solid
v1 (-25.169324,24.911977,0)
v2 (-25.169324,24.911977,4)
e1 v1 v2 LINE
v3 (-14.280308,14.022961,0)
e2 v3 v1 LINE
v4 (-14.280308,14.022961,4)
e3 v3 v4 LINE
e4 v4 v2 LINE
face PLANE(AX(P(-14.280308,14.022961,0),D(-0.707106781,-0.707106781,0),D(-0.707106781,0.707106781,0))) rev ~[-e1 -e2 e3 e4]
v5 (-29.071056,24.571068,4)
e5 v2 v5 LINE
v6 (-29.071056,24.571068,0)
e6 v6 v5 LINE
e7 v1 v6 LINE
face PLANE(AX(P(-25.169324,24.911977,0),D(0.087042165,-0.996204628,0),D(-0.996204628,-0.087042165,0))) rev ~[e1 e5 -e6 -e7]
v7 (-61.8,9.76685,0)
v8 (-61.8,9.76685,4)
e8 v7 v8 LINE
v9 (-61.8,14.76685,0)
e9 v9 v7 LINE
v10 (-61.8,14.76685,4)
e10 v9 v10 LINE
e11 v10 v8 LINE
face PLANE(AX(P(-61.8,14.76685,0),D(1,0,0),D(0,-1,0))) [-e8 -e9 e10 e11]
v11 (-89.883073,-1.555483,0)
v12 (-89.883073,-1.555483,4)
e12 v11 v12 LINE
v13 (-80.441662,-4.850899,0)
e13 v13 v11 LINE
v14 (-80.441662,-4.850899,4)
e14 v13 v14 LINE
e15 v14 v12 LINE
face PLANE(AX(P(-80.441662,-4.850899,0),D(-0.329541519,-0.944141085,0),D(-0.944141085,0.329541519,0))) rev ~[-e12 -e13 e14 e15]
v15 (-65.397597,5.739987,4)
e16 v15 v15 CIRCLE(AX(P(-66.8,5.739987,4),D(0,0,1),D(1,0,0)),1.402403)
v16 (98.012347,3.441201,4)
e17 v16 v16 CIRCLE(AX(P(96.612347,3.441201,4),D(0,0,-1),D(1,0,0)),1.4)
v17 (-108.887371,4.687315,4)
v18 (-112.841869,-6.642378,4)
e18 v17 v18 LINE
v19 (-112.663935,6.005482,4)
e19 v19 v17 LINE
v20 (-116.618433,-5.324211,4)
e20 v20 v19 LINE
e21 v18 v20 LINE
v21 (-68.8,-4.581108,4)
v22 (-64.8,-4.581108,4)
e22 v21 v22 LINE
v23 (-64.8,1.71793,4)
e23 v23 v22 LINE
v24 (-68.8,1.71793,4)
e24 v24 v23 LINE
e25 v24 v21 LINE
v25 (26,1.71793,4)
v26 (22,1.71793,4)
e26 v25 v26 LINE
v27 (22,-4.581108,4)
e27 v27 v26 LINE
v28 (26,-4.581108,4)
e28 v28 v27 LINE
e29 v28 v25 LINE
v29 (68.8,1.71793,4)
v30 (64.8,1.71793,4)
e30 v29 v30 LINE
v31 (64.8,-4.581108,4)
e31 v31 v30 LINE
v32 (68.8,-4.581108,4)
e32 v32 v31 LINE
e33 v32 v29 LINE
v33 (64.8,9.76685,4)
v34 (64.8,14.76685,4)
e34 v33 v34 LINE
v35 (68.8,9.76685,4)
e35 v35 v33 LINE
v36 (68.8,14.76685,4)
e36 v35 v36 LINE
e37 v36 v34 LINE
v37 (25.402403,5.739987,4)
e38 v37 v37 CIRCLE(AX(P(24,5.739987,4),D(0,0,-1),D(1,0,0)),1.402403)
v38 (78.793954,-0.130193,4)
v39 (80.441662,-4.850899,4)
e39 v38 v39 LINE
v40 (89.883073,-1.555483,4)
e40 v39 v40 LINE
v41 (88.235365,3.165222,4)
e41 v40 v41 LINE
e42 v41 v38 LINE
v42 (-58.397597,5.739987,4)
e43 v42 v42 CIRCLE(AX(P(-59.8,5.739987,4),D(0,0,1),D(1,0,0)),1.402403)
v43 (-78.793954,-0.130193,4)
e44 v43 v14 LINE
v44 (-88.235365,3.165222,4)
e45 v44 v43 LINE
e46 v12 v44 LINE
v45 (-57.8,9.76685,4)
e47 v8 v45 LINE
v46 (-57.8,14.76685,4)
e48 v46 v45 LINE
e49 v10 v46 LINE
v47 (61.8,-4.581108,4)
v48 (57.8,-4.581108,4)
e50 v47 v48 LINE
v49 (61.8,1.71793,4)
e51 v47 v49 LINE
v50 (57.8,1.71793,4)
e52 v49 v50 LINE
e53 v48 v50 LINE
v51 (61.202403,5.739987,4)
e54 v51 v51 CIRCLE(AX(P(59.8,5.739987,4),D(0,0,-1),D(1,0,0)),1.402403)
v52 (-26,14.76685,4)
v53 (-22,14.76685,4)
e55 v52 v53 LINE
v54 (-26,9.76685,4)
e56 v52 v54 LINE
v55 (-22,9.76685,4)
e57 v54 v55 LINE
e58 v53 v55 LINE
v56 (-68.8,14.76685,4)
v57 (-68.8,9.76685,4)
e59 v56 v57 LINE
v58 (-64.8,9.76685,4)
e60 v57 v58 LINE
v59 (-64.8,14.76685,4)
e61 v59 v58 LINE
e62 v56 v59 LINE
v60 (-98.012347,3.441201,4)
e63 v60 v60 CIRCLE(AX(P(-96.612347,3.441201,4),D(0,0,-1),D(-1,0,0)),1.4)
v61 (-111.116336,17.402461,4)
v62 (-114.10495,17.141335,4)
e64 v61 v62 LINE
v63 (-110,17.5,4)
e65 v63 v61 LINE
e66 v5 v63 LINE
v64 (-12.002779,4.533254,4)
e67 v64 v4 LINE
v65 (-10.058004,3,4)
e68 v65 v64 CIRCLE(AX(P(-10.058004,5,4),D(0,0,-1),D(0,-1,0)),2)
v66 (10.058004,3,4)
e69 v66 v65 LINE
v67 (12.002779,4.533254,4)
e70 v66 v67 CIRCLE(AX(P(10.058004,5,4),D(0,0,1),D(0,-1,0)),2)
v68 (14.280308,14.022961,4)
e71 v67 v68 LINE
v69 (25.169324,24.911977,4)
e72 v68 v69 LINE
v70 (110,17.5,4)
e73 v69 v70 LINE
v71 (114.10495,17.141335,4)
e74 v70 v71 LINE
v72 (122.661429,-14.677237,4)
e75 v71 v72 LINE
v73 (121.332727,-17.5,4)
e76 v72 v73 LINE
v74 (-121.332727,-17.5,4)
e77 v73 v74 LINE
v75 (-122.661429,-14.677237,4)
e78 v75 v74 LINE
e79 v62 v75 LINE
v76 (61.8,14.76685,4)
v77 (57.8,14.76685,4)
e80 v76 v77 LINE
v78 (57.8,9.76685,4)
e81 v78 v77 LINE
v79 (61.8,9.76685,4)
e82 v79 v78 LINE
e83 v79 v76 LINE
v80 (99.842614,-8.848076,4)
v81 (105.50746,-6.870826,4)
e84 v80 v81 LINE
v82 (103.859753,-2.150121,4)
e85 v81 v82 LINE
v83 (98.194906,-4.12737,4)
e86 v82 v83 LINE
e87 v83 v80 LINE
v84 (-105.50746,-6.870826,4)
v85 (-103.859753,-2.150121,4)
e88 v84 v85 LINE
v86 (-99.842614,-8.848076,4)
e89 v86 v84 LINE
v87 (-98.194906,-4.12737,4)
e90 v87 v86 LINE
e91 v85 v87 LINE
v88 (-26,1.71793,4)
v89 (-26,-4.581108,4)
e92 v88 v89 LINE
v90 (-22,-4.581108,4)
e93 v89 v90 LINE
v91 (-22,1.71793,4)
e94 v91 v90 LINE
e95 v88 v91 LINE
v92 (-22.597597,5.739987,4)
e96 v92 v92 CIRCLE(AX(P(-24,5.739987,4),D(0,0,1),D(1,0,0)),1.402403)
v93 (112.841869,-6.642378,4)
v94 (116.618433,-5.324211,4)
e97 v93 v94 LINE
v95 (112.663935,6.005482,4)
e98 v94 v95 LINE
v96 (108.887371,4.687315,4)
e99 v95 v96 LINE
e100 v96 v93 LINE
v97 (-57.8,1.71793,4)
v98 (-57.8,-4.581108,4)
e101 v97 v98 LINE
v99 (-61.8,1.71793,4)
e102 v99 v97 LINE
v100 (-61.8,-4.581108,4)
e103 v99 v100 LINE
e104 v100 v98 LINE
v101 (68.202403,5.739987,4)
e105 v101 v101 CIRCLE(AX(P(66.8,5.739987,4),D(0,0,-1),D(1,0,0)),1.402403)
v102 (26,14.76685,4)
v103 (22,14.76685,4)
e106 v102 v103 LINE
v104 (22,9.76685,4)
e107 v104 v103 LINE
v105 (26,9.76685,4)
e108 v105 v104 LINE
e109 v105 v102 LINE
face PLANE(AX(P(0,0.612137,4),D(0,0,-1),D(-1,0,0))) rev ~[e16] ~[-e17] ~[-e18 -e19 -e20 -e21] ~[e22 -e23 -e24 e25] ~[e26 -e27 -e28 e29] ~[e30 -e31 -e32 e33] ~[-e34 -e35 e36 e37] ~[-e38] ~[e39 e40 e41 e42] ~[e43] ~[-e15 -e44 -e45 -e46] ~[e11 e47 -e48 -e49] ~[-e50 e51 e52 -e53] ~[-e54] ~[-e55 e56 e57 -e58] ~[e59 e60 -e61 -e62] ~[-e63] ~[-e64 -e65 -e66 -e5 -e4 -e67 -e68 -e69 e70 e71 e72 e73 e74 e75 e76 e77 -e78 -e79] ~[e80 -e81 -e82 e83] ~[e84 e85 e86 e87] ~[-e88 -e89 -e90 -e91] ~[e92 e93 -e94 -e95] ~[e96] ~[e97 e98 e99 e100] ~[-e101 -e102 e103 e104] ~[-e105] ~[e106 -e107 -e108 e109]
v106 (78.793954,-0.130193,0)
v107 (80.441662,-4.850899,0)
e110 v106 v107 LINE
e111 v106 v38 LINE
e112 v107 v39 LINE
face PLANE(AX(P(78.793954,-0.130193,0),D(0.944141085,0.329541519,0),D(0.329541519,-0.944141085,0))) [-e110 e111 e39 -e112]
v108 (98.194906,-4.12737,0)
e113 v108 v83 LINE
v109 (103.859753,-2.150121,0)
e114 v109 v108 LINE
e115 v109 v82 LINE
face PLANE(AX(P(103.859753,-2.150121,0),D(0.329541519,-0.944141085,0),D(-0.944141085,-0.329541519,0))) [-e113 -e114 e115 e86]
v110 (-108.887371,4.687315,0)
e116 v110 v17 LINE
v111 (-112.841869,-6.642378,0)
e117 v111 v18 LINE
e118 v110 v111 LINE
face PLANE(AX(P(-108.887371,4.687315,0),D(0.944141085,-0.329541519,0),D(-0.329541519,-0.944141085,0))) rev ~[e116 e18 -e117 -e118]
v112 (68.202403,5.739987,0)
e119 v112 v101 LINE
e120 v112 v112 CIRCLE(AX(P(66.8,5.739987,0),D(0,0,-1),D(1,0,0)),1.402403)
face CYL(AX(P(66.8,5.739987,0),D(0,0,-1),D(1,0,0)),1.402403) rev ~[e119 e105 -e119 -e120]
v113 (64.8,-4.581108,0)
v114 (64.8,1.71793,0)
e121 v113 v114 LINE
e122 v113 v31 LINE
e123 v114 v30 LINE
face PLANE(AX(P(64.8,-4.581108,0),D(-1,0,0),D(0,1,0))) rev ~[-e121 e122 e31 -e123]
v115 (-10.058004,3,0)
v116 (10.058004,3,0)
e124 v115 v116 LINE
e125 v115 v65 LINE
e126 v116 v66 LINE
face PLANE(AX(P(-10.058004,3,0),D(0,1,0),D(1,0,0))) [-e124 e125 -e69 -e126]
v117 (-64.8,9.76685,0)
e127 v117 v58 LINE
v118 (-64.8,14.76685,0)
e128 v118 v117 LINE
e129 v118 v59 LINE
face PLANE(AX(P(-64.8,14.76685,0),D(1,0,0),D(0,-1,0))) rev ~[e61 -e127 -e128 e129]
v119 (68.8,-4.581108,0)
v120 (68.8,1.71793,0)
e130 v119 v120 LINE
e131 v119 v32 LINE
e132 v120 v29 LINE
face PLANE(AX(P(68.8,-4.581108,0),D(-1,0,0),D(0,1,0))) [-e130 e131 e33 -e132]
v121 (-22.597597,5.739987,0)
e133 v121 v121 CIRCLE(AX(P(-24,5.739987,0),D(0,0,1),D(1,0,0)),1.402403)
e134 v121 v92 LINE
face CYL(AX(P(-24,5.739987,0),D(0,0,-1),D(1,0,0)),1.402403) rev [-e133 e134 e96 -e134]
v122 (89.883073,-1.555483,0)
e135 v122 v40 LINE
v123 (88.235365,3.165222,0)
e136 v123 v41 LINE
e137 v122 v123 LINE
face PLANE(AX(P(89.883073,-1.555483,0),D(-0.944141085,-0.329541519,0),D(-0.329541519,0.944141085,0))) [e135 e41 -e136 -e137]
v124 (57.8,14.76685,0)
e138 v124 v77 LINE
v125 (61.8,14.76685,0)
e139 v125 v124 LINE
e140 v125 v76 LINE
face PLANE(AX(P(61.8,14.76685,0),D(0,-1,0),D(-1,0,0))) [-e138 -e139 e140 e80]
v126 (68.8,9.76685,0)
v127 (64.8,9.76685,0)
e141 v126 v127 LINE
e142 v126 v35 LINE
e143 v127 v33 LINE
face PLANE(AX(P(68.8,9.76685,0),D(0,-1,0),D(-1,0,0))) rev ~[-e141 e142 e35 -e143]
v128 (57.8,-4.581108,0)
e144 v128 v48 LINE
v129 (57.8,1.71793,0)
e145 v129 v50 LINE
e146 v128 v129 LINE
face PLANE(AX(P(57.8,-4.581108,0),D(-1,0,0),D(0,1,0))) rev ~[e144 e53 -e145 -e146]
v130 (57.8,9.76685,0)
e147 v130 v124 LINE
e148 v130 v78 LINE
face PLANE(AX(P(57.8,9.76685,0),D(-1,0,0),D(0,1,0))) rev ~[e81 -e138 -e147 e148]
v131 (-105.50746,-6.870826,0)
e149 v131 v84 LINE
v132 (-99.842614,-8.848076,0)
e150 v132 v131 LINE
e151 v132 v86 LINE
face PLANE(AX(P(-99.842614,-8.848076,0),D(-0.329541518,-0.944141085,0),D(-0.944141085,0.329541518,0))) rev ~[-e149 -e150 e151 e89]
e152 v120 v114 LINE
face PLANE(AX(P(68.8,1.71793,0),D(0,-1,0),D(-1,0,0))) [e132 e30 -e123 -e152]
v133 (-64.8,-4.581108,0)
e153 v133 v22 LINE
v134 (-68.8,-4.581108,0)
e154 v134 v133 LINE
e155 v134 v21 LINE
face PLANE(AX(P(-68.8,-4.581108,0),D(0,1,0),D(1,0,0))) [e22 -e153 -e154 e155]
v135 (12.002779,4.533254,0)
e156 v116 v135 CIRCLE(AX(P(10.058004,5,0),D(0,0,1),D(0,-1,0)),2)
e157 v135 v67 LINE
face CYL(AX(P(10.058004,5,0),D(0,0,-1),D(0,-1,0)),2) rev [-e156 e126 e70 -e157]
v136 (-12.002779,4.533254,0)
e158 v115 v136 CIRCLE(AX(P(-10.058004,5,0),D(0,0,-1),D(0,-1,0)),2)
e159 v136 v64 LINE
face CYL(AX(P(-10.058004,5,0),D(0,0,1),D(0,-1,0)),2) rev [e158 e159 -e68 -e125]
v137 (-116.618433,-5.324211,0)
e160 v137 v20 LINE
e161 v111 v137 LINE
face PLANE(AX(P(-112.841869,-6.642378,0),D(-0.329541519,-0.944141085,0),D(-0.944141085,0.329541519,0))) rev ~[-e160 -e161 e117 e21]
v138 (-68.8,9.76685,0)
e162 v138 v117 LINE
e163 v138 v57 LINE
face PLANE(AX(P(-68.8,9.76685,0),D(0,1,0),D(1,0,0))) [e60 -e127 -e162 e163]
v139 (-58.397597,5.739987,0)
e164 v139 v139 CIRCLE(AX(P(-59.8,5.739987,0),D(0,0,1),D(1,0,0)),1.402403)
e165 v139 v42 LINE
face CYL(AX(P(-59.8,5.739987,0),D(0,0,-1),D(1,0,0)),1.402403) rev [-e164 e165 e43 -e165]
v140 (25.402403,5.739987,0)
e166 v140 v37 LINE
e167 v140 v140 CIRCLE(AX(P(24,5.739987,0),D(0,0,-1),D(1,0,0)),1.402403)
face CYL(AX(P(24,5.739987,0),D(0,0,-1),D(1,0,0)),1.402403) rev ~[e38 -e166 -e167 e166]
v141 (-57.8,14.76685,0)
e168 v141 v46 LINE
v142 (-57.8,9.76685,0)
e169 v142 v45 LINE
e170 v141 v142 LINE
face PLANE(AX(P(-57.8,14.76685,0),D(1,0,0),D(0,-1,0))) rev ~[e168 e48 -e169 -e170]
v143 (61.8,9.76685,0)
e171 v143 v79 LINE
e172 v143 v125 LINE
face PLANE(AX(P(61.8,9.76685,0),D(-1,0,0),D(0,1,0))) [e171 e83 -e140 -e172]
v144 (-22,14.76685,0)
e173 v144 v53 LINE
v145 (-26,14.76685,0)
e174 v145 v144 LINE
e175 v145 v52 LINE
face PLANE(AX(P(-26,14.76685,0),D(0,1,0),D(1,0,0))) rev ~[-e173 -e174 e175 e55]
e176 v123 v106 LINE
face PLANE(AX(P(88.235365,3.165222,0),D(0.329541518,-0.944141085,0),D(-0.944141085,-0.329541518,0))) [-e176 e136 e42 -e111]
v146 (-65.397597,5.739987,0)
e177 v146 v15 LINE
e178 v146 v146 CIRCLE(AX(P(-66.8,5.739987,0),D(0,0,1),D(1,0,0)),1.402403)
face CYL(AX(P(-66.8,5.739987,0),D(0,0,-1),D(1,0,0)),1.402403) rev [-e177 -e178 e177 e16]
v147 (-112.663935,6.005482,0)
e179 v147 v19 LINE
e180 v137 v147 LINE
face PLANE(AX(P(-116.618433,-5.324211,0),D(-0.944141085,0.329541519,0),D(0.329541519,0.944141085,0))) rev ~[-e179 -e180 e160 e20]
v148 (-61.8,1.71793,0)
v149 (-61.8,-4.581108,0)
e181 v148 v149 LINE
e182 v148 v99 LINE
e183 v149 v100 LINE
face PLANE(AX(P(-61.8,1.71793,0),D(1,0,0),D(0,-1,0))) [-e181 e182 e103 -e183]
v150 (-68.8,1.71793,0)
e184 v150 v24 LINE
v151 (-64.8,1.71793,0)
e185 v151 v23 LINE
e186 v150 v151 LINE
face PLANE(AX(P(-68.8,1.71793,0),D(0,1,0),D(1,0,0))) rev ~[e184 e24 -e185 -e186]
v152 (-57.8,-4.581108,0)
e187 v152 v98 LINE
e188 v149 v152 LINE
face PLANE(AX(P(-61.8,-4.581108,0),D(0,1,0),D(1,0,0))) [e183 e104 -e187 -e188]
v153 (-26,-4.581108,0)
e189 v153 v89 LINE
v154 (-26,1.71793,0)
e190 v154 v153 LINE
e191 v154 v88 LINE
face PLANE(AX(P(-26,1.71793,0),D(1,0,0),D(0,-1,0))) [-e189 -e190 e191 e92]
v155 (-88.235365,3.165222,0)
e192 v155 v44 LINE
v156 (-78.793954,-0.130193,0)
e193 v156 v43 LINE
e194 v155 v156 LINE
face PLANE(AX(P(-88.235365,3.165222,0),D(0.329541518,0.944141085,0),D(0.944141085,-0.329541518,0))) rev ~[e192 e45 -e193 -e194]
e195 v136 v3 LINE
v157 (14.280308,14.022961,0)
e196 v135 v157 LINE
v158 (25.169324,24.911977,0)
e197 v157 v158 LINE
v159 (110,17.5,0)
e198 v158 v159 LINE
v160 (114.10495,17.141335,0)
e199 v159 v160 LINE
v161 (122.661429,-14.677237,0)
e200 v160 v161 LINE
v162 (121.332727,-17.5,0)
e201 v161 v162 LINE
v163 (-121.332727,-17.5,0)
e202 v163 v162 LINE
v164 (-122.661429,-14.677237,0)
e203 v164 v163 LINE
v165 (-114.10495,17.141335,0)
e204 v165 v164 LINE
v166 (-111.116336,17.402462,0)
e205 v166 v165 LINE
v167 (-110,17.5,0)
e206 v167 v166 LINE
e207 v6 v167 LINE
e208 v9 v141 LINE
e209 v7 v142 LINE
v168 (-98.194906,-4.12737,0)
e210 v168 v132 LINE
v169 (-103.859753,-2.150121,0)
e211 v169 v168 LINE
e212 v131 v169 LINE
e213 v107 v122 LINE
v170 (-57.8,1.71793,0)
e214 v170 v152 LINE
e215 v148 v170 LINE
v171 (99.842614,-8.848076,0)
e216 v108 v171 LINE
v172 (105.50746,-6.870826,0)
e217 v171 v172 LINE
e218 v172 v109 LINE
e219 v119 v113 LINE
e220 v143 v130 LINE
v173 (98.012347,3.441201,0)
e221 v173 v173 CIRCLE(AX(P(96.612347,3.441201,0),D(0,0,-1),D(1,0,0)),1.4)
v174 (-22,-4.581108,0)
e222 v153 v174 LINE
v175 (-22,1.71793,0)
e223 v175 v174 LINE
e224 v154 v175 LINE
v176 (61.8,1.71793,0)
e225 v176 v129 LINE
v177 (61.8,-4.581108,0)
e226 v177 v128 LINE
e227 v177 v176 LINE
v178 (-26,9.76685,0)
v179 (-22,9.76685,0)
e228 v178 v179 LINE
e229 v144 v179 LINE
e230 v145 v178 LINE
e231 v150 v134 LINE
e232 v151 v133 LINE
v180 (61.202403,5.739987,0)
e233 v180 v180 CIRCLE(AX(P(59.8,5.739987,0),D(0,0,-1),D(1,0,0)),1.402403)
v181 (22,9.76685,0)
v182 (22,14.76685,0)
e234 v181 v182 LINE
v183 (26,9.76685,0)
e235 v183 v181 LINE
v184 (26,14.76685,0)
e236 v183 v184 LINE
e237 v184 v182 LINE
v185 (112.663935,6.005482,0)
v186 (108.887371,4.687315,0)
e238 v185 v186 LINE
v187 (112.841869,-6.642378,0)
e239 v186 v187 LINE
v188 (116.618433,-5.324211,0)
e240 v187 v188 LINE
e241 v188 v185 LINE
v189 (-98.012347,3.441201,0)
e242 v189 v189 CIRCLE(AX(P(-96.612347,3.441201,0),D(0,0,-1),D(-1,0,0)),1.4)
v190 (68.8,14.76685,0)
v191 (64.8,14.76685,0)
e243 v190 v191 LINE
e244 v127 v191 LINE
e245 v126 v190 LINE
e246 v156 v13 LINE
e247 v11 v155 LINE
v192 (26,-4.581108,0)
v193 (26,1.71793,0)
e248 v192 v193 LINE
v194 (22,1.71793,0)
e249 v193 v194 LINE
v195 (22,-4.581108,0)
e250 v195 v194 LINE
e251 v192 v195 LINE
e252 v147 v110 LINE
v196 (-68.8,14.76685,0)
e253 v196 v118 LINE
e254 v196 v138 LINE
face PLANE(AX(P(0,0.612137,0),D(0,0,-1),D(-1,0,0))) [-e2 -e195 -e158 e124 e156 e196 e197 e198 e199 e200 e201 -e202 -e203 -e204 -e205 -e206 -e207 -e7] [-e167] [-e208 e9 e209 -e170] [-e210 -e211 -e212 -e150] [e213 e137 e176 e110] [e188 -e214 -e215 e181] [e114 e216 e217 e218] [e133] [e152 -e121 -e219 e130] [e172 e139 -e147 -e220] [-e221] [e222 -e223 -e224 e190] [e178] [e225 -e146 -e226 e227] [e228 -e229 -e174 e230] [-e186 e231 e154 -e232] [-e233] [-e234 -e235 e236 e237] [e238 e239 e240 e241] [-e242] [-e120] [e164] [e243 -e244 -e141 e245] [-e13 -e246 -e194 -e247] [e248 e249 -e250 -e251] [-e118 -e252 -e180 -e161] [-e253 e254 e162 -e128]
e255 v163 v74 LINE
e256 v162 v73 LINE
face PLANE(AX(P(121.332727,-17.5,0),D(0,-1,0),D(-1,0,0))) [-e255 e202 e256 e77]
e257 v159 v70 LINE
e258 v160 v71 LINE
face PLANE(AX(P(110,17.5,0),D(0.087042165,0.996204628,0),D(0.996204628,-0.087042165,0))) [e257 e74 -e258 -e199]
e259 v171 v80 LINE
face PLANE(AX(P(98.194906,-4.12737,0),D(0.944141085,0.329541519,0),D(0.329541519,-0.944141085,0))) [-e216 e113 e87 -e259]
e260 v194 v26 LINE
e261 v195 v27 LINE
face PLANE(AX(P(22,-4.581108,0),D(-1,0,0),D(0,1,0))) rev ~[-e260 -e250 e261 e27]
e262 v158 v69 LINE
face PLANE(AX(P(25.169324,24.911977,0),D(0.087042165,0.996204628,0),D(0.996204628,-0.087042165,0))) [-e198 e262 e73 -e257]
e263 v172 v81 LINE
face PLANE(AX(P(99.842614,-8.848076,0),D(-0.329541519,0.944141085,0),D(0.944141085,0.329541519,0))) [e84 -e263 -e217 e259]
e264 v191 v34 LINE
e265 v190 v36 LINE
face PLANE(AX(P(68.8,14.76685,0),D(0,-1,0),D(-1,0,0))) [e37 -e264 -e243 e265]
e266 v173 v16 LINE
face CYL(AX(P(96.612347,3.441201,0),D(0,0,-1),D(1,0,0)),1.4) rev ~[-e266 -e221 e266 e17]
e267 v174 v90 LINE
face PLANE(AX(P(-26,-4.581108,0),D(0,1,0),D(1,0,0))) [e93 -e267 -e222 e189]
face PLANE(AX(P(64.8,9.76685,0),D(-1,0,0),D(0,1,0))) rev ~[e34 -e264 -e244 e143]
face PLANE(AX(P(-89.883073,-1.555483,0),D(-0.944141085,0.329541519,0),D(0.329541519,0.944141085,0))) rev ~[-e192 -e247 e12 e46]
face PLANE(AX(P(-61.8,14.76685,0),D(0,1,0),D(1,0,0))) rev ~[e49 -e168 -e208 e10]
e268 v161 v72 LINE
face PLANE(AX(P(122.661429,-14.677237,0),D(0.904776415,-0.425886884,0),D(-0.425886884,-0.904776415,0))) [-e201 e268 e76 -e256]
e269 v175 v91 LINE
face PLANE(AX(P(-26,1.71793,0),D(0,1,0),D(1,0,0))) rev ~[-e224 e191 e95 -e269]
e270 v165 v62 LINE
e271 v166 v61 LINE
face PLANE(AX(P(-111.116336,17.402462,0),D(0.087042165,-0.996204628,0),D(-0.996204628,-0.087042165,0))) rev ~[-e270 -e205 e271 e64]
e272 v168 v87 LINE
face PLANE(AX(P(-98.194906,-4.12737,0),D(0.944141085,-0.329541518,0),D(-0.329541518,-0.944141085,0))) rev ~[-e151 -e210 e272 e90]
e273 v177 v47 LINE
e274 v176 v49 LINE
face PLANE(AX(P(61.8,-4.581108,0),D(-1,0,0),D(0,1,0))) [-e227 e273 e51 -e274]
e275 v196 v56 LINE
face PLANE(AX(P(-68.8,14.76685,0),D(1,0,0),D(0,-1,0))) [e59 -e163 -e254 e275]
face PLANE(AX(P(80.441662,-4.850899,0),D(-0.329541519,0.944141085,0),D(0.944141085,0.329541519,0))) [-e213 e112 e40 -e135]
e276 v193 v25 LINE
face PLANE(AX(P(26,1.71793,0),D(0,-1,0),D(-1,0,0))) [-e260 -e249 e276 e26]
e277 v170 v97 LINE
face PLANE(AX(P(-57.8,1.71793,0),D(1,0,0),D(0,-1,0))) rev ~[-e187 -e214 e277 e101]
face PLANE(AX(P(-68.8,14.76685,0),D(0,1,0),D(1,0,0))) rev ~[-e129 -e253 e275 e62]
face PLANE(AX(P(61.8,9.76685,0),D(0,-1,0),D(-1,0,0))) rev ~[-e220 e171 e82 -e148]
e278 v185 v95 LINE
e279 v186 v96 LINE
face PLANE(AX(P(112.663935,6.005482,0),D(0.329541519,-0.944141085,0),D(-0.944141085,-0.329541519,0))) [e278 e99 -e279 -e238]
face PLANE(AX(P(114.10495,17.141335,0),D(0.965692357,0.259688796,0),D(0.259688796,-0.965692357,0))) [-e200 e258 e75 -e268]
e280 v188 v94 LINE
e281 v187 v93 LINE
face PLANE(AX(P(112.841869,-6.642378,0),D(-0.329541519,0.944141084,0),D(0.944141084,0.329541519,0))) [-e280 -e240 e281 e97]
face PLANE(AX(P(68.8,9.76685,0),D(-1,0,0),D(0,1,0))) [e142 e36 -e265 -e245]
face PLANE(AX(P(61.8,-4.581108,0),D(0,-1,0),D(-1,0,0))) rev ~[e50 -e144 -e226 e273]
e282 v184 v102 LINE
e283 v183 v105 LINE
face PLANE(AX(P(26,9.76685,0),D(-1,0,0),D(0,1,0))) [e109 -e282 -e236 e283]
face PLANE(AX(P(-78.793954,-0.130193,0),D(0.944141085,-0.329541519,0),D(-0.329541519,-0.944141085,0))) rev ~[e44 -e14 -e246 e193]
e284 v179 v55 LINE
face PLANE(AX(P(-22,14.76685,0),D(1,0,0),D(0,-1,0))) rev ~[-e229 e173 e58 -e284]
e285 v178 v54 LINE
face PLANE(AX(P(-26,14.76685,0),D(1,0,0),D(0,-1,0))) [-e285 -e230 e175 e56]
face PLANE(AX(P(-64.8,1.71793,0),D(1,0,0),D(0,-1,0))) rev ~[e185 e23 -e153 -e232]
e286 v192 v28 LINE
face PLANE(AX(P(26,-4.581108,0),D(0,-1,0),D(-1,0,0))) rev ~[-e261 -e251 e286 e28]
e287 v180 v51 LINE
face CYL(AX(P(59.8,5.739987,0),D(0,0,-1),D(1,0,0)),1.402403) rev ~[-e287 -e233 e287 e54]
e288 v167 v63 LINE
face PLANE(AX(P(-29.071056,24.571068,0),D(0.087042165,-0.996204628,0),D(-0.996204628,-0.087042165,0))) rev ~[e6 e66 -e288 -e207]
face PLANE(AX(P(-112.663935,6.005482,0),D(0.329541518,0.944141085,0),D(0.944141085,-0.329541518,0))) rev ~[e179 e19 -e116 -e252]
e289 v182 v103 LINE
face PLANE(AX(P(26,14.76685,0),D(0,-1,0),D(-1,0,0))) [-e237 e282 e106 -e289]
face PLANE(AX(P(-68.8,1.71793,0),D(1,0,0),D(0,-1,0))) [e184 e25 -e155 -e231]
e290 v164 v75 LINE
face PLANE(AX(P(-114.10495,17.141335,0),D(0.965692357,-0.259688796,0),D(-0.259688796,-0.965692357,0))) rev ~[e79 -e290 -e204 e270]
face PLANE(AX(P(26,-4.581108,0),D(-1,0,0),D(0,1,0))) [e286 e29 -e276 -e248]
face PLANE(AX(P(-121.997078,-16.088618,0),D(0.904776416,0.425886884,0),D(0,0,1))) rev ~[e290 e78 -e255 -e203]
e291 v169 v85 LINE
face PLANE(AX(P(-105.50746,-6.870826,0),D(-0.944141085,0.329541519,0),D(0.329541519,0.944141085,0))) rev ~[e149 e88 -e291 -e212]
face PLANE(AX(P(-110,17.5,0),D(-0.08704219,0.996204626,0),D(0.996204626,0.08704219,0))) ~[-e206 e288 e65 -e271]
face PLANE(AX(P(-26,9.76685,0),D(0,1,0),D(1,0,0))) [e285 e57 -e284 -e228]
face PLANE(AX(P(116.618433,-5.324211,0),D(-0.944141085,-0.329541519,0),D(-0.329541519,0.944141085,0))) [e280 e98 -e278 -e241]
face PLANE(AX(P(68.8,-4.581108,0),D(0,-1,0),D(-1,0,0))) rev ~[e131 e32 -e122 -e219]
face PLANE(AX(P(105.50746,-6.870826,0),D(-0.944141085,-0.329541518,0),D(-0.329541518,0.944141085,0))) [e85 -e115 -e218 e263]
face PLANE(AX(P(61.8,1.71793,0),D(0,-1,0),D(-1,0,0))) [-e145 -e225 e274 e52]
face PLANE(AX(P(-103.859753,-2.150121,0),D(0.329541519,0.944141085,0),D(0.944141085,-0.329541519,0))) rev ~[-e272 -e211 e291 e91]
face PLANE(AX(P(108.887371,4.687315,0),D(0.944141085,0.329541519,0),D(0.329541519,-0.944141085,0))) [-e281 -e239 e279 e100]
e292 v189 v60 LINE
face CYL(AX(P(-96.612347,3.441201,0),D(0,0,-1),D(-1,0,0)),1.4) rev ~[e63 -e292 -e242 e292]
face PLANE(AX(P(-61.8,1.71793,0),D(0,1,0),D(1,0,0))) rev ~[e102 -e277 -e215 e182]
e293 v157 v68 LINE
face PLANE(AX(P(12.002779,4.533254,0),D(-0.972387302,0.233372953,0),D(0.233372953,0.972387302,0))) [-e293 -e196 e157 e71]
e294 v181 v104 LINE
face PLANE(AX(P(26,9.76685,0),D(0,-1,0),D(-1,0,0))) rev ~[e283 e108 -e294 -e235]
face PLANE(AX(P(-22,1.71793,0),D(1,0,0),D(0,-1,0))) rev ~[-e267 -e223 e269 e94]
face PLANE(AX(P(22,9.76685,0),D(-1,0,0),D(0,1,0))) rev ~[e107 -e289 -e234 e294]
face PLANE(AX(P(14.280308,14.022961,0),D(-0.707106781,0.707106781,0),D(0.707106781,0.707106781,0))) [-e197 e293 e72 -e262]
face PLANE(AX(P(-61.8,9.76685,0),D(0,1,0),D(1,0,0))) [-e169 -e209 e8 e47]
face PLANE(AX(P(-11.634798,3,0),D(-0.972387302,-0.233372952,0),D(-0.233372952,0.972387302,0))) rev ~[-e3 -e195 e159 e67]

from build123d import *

# Parameters (mm, degrees)
SKETCH_1_W           = 220
SKETCH_1_H           = 35
EXTRUDE_1_DEPTH      = 4
CUT_EXTRUDE_1_DEPTH  = 10
CHAMFER_1_SIZE       = 5
EXTRUDE_2_DEPTH      = 4
EXTRUDE_3_DEPTH      = 4
EXTRUDE_4_DEPTH      = 4
EXTRUDE_7_DEPTH      = 4
FILLET_1_R           = 2
SKETCH_21_W          = 4
SKETCH_21_H          = 5
SKETCH_21_H_2        = 6.299038106
CUT_EXTRUDE_8_DEPTH  = 4
SKETCH_22_R          = 1.40240318
CUT_EXTRUDE_9_DEPTH  = 4
EXTRUDE_8_DEPTH      = 4
CUT_EXTRUDE_14_DEPTH = 10
CUT_EXTRUDE_15_DEPTH = 4
CHAMFER_2_SIZE       = 3
CHAMFER_2_SIZE2      = 2.344579619
SKETCH_29_W          = 6
SKETCH_29_H          = 5
SKETCH_29_W_2        = 10
SKETCH_29_W_3        = 4
SKETCH_29_H_2        = 12
CUT_EXTRUDE_16_DEPTH = 4
SKETCH_30_R          = 1.4
CUT_EXTRUDE_17_DEPTH = 4
EXTRUDE_9_DEPTH      = 4
SKETCH_35_R          = 44.644180149
CUT_EXTRUDE_19_DEPTH = 126.325939799
SKETCH_36_R          = 1.40240318
SKETCH_36_R_2        = 1.4
SKETCH_36_W          = 4
SKETCH_36_H          = 5
SKETCH_36_H_2        = 6.299038106
EXTRUDE_11_DEPTH     = 4


with BuildPart() as part:
    # 草图1 → 凸台-拉伸1 (new body)
    with BuildSketch(Plane.XY):
        Rectangle(SKETCH_1_W, SKETCH_1_H)
    extrude(amount=EXTRUDE_1_DEPTH)

    # 草图2 → 切除-拉伸1 (cut)
    with BuildSketch(Plane.XY.offset(4)):
        Polygon((0, 17.519994919), (-16.999988241, 17.5), (-16.999988241, 0), (17.000011759, 0), (17.000011759, 17.5), align=None)
    extrude(amount=-CUT_EXTRUDE_1_DEPTH, mode=Mode.SUBTRACT)

    # 倒角1
    chamfer_1_edges = [part.edges().sort_by_distance(p)[0] for p in [
        (17.000011759, 17.5, 2),
        (-16.999988241, 17.5, 2),
    ]]
    chamfer(chamfer_1_edges, length=CHAMFER_1_SIZE)

    # 草图3 → 凸台-拉伸2 (add)
    with BuildSketch(Plane(origin=(0, 0, 0), x_dir=(-1, 0, 0), z_dir=(0, 0, -1))):
        Polygon((-17.000011759, 0), (-17.000011759, 12.5), (-14.000011759, 0), align=None)
        Polygon((16.999988241, 12.5), (16.999988241, 0), (13.999988241, 0), align=None)
    extrude(amount=-EXTRUDE_2_DEPTH)

    # 草图4 → 凸台-拉伸3 (add)
    with BuildSketch(Plane(origin=(0, 0, 0), x_dir=(-1, 0, 0), z_dir=(0, 0, -1))):
        Polygon((-22.000011759, 17.5), (-29.071079571, 24.571067812), (-110, 17.5), align=None)
        Polygon((21.999988241, 17.5), (29.071056053, 24.571067812), (110, 17.5), align=None)
    extrude(amount=-EXTRUDE_3_DEPTH)

    # 草图7 → 凸台-拉伸4 (add)
    with BuildSketch(Plane(origin=(0, 0, 0), x_dir=(-1, 0, 0), z_dir=(0, 0, -1))):
        Polygon((-110, 17.5), (-115.977227757, 16.97774686), (-112.5, -17.5), (-110, -17.5), align=None)
    extrude_4 = extrude(amount=-EXTRUDE_4_DEPTH)

    # 草图19 → 凸台-拉伸7 (add)
    with BuildSketch(Plane(origin=(0, 0, 0), x_dir=(-1, 0, 0), z_dir=(0, 0, -1))):
        Polygon((-17.000011759, 12.5), (-29.071079571, 24.571067812), (-25.649595146, 25.392224074), (-14.280331934, 14.022960862), (-11.634821327, 3), (11.63479781, 3), (14.280308417, 14.022960862), (25.169324411, 24.911976857), (29.071056053, 24.571067812), (16.999988241, 12.5), (13.999988241, 0), (-14.000011759, 0), align=None)
    extrude(amount=-EXTRUDE_7_DEPTH)

    # 圆角1
    fillet_1_edges = [part.edges().sort_by_distance(p)[0] for p in [
        (-11.63479781, 3, 2),
        (11.634821327, 3, 2),
    ]]
    fillet(fillet_1_edges, radius=FILLET_1_R)

    # 草图21 → 切除-拉伸8 (cut)
    with BuildSketch(Plane(origin=(133.943153128, -40.880278438, 0), x_dir=(1, 0, 0), z_dir=(0, 0, -1))):
        with Locations((-67.143153128, -53.147127978)):
            Rectangle(SKETCH_21_W, SKETCH_21_H)
        with Locations((-74.143153128, -53.147127978)):
            Rectangle(SKETCH_21_W, SKETCH_21_H)
        with Locations((-67.143153128, -39.44868951)):
            Rectangle(SKETCH_21_W, SKETCH_21_H_2)
        with Locations((-74.143153128, -39.44868951)):
            Rectangle(SKETCH_21_W, SKETCH_21_H_2)
        with Locations((-109.943153128, -53.147127978)):
            Rectangle(SKETCH_21_W, SKETCH_21_H)
        with Locations((-109.943153128, -39.44868951)):
            Rectangle(SKETCH_21_W, SKETCH_21_H_2)
        with Locations((-157.943153128, -39.44868951)):
            Rectangle(SKETCH_21_W, SKETCH_21_H_2)
        with Locations((-157.943153128, -53.147127978)):
            Rectangle(SKETCH_21_W, SKETCH_21_H)
        with Locations((-200.743153128, -39.44868951)):
            Rectangle(SKETCH_21_W, SKETCH_21_H_2)
        with Locations((-193.743153128, -39.44868951)):
            Rectangle(SKETCH_21_W, SKETCH_21_H_2)
        with Locations((-193.743153128, -53.147127978)):
            Rectangle(SKETCH_21_W, SKETCH_21_H)
        with Locations((-200.743153128, -53.147127978)):
            Rectangle(SKETCH_21_W, SKETCH_21_H)
    extrude(amount=-CUT_EXTRUDE_8_DEPTH, mode=Mode.SUBTRACT)

    # 草图22 → 切除-拉伸9 (cut)
    with BuildSketch(Plane(origin=(133.943153128, -40.880278438, 0), x_dir=(1, 0, 0), z_dir=(0, 0, -1))):
        with Locations(Location((-109.943153128, -46.620265091, 0), (0, 0, 180))):
            Circle(SKETCH_22_R)
        with Locations(Location((-74.143153128, -46.620265091, 0), (0, 0, 180))):
            Circle(SKETCH_22_R)
        with Locations(Location((-67.143153128, -46.620265091, 0), (0, 0, 180))):
            Circle(SKETCH_22_R)
    cut_extrude_9 = extrude(amount=-CUT_EXTRUDE_9_DEPTH, mode=Mode.SUBTRACT)

    # 镜向10: 切除-拉伸9 across plane
    add(cut_extrude_9.mirror(Plane(origin=(0, 0, 0), x_dir=(0, 0, 1), z_dir=(1, 0, 0))), mode=Mode.SUBTRACT)

    # 镜向11: 凸台-拉伸4 across plane
    add(extrude_4.mirror(Plane(origin=(0, 0, 0), x_dir=(0, 0, 1), z_dir=(1, 0, 0))))

    # 草图23 → 凸台-拉伸8 (add)
    with BuildSketch(Plane(origin=(0, 0, 0), x_dir=(-1, 0, 0), z_dir=(0, 0, -1))):
        Polygon((115.977227757, 16.97774686), (112.5, -17.5), (123.677307019, -17.5), (127.041988649, 15.861818553), align=None)
    extrude(amount=-EXTRUDE_8_DEPTH)

    # 草图27 → 切除-拉伸14 (cut)
    with BuildSketch(Plane(origin=(0, 0, 0), x_dir=(-1, 0, 0), z_dir=(0, 0, -1))):
        Polygon((123.677307019, -17.5), (127.041988649, 15.861818553), (110.453235561, 19.244980627), (111.116335779, 17.402461494), align=None)
    extrude(amount=-CUT_EXTRUDE_14_DEPTH, mode=Mode.SUBTRACT)

    # 草图28 → 切除-拉伸15 (cut)
    with BuildSketch(Plane(origin=(133.943153128, -40.880278438, 0), x_dir=(1, 0, 0), z_dir=(0, 0, -1))):
        Polygon((-214.384814898, -36.029379852), (-223.826225744, -39.324795038), (-222.178518151, -44.04550046), (-212.737107305, -40.750085275), align=None)
        Polygon((-239.450613316, -34.009451966), (-237.802905723, -38.730157389), (-232.138059216, -36.752908277), (-233.785766808, -32.032202855), align=None)
        Polygon((-242.830523796, -45.567593925), (-246.785022019, -34.23790091), (-250.561586358, -35.556066985), (-246.607088135, -46.885759999), align=None)
    extrude(amount=-CUT_EXTRUDE_15_DEPTH, mode=Mode.SUBTRACT)

    # 倒角2
    chamfer_2_edges = [part.edges().sort_by_distance(p)[0] for p in [
        (-123.677307019, -17.5, 2),
    ]]
    chamfer_2_side = [part.faces().sort_by_distance(p)[0] for p in [
        (-117.396821399, -0.048769253, 2),
    ]]
    chamfer(chamfer_2_edges, length=CHAMFER_2_SIZE, length2=CHAMFER_2_SIZE2, reference=chamfer_2_side[0])

    # 草图29 → 切除-拉伸16 (cut)
    with BuildSketch(Plane(origin=(133.943153128, -40.880278438, 0), x_dir=(1, 0, 0), z_dir=(0, 0, -1))):
        with Locations((-37.943153128, -39.581582586)):
            Rectangle(SKETCH_29_W, SKETCH_29_H)
        with Locations((-52.943153128, -49.748900766)):
            Rectangle(SKETCH_29_W_2, SKETCH_29_H)
        with Locations((-25.943153128, -40.880278438)):
            Rectangle(SKETCH_29_W_3, SKETCH_29_H_2)
    extrude(amount=-CUT_EXTRUDE_16_DEPTH, mode=Mode.SUBTRACT)

    # 草图30 → 切除-拉伸17 (cut)
    with BuildSketch(Plane(origin=(133.943153128, -40.880278438, 0), x_dir=(1, 0, 0), z_dir=(0, 0, -1))):
        with Locations(Location((-39.943153128, -49.748900766, 0), (0, 0, 180))):
            Circle(SKETCH_30_R)
        with Locations(Location((-230.555500624, -44.321479898, 0), (0, 0, 180))):
            Circle(SKETCH_30_R)
    extrude(amount=-CUT_EXTRUDE_17_DEPTH, mode=Mode.SUBTRACT)

    # 草图31 → 凸台-拉伸9 (add)
    with BuildSketch(Plane(origin=(0, 0, 0), x_dir=(-1, 0, 0), z_dir=(0, 0, -1))):
        Polygon((111.116335769, 17.402461523), (114.104949654, 17.141335029), (122.661428914, -14.677236872), align=None)
    extrude(amount=-EXTRUDE_9_DEPTH)

    # 草图35 → 切除-拉伸19 (cut, through all)
    with BuildSketch(Plane(origin=(0, 0, 0), x_dir=(0, 0, -1), z_dir=(1, 0, 0))):
        Circle(SKETCH_35_R)
    extrude(amount=CUT_EXTRUDE_19_DEPTH, mode=Mode.SUBTRACT)

    # 草图36 → 凸台-拉伸11 (add)
    with BuildSketch(Plane(origin=(0, 0, 0), x_dir=(-1, 0, 0), z_dir=(0, 0, -1))):
        with BuildLine():
            Line((-121.3327274, -17.5), (121.3327274, -17.5))
            Line((121.3327274, -17.5), (122.661428914, -14.677236872))
            Line((122.661428914, -14.677236872), (114.104949654, 17.141335029))
            Line((114.104949654, 17.141335029), (110, 17.5))
            Line((110, 17.5), (25.169324411, 24.911976857))
            Line((25.169324411, 24.911976857), (14.280308417, 14.022960862))
            Line((14.280308417, 14.022960862), (12.002778792, 4.533254095))
            ThreePointArc((12.002778792, 4.533254095), (11.296250567, 3.429412242), (10.058004188, 3))
            Line((10.058004188, 3), (-10.058004188, 3))
            ThreePointArc((-10.058004188, 3), (-11.296250567, 3.429412242), (-12.002778792, 4.533254095))
            Line((-12.002778792, 4.533254095), (-14.280308417, 14.022960862))
            Line((-14.280308417, 14.022960862), (-25.169324411, 24.911976857))
            Line((-25.169324411, 24.911976857), (-110, 17.5))
            Line((-110, 17.5), (-114.104949654, 17.141335029))
            Line((-114.104949654, 17.141335029), (-122.661428914, -14.677236872))
            Line((-122.661428914, -14.677236872), (-121.3327274, -17.5))
        make_face()
        with Locations(Location((24, 5.739986652, 0), (0, 0, 180))):
            Circle(SKETCH_36_R, mode=Mode.SUBTRACT)
        with Locations(Location((59.8, 5.739986652, 0), (0, 0, 180))):
            Circle(SKETCH_36_R, mode=Mode.SUBTRACT)
        with Locations(Location((66.8, 5.739986652, 0), (0, 0, 180))):
            Circle(SKETCH_36_R, mode=Mode.SUBTRACT)
        with Locations((96.612347495, 3.44120146)):
            Circle(SKETCH_36_R_2, mode=Mode.SUBTRACT)
        with Locations(Location((-96.612347495, 3.44120146, 0), (0, 0, 180))):
            Circle(SKETCH_36_R_2, mode=Mode.SUBTRACT)
        with Locations(Location((-66.8, 5.739986652, 0), (0, 0, 180))):
            Circle(SKETCH_36_R, mode=Mode.SUBTRACT)
        with Locations(Location((-59.8, 5.739986652, 0), (0, 0, 180))):
            Circle(SKETCH_36_R, mode=Mode.SUBTRACT)
        with Locations(Location((-24, 5.739986652, 0), (0, 0, 180))):
            Circle(SKETCH_36_R, mode=Mode.SUBTRACT)
        with Locations((24, 12.26684954)):
            Rectangle(SKETCH_36_W, SKETCH_36_H, mode=Mode.SUBTRACT)
        with Locations((24, -1.431588928)):
            Rectangle(SKETCH_36_W, SKETCH_36_H_2, mode=Mode.SUBTRACT)
        Polygon((80.44166177, -4.850898586), (89.883072616, -1.5554834), (88.235365023, 3.165222022), (78.793954177, -0.130193163), align=None, mode=Mode.SUBTRACT)
        with Locations((59.8, -1.431588928)):
            Rectangle(SKETCH_36_W, SKETCH_36_H_2, mode=Mode.SUBTRACT)
        with Locations((59.8, 12.26684954)):
            Rectangle(SKETCH_36_W, SKETCH_36_H, mode=Mode.SUBTRACT)
        with Locations((66.8, 12.26684954)):
            Rectangle(SKETCH_36_W, SKETCH_36_H, mode=Mode.SUBTRACT)
        Polygon((112.841868891, -6.642377528), (116.618433229, -5.324211453), (112.663935006, 6.005481561), (108.887370668, 4.687315487), align=None, mode=Mode.SUBTRACT)
        Polygon((105.507460187, -6.870826472), (103.859752595, -2.150121049), (98.194906087, -4.127370161), (99.84261368, -8.848075584), align=None, mode=Mode.SUBTRACT)
        with Locations((66.8, -1.431588928)):
            Rectangle(SKETCH_36_W, SKETCH_36_H_2, mode=Mode.SUBTRACT)
        with Locations((-66.8, 12.26684954)):
            Rectangle(SKETCH_36_W, SKETCH_36_H, mode=Mode.SUBTRACT)
        with Locations((-66.8, -1.431588928)):
            Rectangle(SKETCH_36_W, SKETCH_36_H_2, mode=Mode.SUBTRACT)
        Polygon((-98.194906087, -4.127370161), (-99.84261368, -8.848075584), (-105.507460187, -6.870826472), (-103.859752595, -2.150121049), align=None, mode=Mode.SUBTRACT)
        Polygon((-108.887370668, 4.687315487), (-112.841868891, -6.642377528), (-116.618433229, -5.324211453), (-112.663935006, 6.005481561), align=None, mode=Mode.SUBTRACT)
        with Locations((-59.8, 12.26684954)):
            Rectangle(SKETCH_36_W, SKETCH_36_H, mode=Mode.SUBTRACT)
        with Locations((-59.8, -1.431588928)):
            Rectangle(SKETCH_36_W, SKETCH_36_H_2, mode=Mode.SUBTRACT)
        Polygon((-89.883072616, -1.5554834), (-88.235365023, 3.165222022), (-78.793954177, -0.130193163), (-80.44166177, -4.850898586), align=None, mode=Mode.SUBTRACT)
        with Locations((-24, -1.431588928)):
            Rectangle(SKETCH_36_W, SKETCH_36_H_2, mode=Mode.SUBTRACT)
        with Locations((-24, 12.26684954)):
            Rectangle(SKETCH_36_W, SKETCH_36_H, mode=Mode.SUBTRACT)
    extrude(amount=-EXTRUDE_11_DEPTH)


solid = part.part
